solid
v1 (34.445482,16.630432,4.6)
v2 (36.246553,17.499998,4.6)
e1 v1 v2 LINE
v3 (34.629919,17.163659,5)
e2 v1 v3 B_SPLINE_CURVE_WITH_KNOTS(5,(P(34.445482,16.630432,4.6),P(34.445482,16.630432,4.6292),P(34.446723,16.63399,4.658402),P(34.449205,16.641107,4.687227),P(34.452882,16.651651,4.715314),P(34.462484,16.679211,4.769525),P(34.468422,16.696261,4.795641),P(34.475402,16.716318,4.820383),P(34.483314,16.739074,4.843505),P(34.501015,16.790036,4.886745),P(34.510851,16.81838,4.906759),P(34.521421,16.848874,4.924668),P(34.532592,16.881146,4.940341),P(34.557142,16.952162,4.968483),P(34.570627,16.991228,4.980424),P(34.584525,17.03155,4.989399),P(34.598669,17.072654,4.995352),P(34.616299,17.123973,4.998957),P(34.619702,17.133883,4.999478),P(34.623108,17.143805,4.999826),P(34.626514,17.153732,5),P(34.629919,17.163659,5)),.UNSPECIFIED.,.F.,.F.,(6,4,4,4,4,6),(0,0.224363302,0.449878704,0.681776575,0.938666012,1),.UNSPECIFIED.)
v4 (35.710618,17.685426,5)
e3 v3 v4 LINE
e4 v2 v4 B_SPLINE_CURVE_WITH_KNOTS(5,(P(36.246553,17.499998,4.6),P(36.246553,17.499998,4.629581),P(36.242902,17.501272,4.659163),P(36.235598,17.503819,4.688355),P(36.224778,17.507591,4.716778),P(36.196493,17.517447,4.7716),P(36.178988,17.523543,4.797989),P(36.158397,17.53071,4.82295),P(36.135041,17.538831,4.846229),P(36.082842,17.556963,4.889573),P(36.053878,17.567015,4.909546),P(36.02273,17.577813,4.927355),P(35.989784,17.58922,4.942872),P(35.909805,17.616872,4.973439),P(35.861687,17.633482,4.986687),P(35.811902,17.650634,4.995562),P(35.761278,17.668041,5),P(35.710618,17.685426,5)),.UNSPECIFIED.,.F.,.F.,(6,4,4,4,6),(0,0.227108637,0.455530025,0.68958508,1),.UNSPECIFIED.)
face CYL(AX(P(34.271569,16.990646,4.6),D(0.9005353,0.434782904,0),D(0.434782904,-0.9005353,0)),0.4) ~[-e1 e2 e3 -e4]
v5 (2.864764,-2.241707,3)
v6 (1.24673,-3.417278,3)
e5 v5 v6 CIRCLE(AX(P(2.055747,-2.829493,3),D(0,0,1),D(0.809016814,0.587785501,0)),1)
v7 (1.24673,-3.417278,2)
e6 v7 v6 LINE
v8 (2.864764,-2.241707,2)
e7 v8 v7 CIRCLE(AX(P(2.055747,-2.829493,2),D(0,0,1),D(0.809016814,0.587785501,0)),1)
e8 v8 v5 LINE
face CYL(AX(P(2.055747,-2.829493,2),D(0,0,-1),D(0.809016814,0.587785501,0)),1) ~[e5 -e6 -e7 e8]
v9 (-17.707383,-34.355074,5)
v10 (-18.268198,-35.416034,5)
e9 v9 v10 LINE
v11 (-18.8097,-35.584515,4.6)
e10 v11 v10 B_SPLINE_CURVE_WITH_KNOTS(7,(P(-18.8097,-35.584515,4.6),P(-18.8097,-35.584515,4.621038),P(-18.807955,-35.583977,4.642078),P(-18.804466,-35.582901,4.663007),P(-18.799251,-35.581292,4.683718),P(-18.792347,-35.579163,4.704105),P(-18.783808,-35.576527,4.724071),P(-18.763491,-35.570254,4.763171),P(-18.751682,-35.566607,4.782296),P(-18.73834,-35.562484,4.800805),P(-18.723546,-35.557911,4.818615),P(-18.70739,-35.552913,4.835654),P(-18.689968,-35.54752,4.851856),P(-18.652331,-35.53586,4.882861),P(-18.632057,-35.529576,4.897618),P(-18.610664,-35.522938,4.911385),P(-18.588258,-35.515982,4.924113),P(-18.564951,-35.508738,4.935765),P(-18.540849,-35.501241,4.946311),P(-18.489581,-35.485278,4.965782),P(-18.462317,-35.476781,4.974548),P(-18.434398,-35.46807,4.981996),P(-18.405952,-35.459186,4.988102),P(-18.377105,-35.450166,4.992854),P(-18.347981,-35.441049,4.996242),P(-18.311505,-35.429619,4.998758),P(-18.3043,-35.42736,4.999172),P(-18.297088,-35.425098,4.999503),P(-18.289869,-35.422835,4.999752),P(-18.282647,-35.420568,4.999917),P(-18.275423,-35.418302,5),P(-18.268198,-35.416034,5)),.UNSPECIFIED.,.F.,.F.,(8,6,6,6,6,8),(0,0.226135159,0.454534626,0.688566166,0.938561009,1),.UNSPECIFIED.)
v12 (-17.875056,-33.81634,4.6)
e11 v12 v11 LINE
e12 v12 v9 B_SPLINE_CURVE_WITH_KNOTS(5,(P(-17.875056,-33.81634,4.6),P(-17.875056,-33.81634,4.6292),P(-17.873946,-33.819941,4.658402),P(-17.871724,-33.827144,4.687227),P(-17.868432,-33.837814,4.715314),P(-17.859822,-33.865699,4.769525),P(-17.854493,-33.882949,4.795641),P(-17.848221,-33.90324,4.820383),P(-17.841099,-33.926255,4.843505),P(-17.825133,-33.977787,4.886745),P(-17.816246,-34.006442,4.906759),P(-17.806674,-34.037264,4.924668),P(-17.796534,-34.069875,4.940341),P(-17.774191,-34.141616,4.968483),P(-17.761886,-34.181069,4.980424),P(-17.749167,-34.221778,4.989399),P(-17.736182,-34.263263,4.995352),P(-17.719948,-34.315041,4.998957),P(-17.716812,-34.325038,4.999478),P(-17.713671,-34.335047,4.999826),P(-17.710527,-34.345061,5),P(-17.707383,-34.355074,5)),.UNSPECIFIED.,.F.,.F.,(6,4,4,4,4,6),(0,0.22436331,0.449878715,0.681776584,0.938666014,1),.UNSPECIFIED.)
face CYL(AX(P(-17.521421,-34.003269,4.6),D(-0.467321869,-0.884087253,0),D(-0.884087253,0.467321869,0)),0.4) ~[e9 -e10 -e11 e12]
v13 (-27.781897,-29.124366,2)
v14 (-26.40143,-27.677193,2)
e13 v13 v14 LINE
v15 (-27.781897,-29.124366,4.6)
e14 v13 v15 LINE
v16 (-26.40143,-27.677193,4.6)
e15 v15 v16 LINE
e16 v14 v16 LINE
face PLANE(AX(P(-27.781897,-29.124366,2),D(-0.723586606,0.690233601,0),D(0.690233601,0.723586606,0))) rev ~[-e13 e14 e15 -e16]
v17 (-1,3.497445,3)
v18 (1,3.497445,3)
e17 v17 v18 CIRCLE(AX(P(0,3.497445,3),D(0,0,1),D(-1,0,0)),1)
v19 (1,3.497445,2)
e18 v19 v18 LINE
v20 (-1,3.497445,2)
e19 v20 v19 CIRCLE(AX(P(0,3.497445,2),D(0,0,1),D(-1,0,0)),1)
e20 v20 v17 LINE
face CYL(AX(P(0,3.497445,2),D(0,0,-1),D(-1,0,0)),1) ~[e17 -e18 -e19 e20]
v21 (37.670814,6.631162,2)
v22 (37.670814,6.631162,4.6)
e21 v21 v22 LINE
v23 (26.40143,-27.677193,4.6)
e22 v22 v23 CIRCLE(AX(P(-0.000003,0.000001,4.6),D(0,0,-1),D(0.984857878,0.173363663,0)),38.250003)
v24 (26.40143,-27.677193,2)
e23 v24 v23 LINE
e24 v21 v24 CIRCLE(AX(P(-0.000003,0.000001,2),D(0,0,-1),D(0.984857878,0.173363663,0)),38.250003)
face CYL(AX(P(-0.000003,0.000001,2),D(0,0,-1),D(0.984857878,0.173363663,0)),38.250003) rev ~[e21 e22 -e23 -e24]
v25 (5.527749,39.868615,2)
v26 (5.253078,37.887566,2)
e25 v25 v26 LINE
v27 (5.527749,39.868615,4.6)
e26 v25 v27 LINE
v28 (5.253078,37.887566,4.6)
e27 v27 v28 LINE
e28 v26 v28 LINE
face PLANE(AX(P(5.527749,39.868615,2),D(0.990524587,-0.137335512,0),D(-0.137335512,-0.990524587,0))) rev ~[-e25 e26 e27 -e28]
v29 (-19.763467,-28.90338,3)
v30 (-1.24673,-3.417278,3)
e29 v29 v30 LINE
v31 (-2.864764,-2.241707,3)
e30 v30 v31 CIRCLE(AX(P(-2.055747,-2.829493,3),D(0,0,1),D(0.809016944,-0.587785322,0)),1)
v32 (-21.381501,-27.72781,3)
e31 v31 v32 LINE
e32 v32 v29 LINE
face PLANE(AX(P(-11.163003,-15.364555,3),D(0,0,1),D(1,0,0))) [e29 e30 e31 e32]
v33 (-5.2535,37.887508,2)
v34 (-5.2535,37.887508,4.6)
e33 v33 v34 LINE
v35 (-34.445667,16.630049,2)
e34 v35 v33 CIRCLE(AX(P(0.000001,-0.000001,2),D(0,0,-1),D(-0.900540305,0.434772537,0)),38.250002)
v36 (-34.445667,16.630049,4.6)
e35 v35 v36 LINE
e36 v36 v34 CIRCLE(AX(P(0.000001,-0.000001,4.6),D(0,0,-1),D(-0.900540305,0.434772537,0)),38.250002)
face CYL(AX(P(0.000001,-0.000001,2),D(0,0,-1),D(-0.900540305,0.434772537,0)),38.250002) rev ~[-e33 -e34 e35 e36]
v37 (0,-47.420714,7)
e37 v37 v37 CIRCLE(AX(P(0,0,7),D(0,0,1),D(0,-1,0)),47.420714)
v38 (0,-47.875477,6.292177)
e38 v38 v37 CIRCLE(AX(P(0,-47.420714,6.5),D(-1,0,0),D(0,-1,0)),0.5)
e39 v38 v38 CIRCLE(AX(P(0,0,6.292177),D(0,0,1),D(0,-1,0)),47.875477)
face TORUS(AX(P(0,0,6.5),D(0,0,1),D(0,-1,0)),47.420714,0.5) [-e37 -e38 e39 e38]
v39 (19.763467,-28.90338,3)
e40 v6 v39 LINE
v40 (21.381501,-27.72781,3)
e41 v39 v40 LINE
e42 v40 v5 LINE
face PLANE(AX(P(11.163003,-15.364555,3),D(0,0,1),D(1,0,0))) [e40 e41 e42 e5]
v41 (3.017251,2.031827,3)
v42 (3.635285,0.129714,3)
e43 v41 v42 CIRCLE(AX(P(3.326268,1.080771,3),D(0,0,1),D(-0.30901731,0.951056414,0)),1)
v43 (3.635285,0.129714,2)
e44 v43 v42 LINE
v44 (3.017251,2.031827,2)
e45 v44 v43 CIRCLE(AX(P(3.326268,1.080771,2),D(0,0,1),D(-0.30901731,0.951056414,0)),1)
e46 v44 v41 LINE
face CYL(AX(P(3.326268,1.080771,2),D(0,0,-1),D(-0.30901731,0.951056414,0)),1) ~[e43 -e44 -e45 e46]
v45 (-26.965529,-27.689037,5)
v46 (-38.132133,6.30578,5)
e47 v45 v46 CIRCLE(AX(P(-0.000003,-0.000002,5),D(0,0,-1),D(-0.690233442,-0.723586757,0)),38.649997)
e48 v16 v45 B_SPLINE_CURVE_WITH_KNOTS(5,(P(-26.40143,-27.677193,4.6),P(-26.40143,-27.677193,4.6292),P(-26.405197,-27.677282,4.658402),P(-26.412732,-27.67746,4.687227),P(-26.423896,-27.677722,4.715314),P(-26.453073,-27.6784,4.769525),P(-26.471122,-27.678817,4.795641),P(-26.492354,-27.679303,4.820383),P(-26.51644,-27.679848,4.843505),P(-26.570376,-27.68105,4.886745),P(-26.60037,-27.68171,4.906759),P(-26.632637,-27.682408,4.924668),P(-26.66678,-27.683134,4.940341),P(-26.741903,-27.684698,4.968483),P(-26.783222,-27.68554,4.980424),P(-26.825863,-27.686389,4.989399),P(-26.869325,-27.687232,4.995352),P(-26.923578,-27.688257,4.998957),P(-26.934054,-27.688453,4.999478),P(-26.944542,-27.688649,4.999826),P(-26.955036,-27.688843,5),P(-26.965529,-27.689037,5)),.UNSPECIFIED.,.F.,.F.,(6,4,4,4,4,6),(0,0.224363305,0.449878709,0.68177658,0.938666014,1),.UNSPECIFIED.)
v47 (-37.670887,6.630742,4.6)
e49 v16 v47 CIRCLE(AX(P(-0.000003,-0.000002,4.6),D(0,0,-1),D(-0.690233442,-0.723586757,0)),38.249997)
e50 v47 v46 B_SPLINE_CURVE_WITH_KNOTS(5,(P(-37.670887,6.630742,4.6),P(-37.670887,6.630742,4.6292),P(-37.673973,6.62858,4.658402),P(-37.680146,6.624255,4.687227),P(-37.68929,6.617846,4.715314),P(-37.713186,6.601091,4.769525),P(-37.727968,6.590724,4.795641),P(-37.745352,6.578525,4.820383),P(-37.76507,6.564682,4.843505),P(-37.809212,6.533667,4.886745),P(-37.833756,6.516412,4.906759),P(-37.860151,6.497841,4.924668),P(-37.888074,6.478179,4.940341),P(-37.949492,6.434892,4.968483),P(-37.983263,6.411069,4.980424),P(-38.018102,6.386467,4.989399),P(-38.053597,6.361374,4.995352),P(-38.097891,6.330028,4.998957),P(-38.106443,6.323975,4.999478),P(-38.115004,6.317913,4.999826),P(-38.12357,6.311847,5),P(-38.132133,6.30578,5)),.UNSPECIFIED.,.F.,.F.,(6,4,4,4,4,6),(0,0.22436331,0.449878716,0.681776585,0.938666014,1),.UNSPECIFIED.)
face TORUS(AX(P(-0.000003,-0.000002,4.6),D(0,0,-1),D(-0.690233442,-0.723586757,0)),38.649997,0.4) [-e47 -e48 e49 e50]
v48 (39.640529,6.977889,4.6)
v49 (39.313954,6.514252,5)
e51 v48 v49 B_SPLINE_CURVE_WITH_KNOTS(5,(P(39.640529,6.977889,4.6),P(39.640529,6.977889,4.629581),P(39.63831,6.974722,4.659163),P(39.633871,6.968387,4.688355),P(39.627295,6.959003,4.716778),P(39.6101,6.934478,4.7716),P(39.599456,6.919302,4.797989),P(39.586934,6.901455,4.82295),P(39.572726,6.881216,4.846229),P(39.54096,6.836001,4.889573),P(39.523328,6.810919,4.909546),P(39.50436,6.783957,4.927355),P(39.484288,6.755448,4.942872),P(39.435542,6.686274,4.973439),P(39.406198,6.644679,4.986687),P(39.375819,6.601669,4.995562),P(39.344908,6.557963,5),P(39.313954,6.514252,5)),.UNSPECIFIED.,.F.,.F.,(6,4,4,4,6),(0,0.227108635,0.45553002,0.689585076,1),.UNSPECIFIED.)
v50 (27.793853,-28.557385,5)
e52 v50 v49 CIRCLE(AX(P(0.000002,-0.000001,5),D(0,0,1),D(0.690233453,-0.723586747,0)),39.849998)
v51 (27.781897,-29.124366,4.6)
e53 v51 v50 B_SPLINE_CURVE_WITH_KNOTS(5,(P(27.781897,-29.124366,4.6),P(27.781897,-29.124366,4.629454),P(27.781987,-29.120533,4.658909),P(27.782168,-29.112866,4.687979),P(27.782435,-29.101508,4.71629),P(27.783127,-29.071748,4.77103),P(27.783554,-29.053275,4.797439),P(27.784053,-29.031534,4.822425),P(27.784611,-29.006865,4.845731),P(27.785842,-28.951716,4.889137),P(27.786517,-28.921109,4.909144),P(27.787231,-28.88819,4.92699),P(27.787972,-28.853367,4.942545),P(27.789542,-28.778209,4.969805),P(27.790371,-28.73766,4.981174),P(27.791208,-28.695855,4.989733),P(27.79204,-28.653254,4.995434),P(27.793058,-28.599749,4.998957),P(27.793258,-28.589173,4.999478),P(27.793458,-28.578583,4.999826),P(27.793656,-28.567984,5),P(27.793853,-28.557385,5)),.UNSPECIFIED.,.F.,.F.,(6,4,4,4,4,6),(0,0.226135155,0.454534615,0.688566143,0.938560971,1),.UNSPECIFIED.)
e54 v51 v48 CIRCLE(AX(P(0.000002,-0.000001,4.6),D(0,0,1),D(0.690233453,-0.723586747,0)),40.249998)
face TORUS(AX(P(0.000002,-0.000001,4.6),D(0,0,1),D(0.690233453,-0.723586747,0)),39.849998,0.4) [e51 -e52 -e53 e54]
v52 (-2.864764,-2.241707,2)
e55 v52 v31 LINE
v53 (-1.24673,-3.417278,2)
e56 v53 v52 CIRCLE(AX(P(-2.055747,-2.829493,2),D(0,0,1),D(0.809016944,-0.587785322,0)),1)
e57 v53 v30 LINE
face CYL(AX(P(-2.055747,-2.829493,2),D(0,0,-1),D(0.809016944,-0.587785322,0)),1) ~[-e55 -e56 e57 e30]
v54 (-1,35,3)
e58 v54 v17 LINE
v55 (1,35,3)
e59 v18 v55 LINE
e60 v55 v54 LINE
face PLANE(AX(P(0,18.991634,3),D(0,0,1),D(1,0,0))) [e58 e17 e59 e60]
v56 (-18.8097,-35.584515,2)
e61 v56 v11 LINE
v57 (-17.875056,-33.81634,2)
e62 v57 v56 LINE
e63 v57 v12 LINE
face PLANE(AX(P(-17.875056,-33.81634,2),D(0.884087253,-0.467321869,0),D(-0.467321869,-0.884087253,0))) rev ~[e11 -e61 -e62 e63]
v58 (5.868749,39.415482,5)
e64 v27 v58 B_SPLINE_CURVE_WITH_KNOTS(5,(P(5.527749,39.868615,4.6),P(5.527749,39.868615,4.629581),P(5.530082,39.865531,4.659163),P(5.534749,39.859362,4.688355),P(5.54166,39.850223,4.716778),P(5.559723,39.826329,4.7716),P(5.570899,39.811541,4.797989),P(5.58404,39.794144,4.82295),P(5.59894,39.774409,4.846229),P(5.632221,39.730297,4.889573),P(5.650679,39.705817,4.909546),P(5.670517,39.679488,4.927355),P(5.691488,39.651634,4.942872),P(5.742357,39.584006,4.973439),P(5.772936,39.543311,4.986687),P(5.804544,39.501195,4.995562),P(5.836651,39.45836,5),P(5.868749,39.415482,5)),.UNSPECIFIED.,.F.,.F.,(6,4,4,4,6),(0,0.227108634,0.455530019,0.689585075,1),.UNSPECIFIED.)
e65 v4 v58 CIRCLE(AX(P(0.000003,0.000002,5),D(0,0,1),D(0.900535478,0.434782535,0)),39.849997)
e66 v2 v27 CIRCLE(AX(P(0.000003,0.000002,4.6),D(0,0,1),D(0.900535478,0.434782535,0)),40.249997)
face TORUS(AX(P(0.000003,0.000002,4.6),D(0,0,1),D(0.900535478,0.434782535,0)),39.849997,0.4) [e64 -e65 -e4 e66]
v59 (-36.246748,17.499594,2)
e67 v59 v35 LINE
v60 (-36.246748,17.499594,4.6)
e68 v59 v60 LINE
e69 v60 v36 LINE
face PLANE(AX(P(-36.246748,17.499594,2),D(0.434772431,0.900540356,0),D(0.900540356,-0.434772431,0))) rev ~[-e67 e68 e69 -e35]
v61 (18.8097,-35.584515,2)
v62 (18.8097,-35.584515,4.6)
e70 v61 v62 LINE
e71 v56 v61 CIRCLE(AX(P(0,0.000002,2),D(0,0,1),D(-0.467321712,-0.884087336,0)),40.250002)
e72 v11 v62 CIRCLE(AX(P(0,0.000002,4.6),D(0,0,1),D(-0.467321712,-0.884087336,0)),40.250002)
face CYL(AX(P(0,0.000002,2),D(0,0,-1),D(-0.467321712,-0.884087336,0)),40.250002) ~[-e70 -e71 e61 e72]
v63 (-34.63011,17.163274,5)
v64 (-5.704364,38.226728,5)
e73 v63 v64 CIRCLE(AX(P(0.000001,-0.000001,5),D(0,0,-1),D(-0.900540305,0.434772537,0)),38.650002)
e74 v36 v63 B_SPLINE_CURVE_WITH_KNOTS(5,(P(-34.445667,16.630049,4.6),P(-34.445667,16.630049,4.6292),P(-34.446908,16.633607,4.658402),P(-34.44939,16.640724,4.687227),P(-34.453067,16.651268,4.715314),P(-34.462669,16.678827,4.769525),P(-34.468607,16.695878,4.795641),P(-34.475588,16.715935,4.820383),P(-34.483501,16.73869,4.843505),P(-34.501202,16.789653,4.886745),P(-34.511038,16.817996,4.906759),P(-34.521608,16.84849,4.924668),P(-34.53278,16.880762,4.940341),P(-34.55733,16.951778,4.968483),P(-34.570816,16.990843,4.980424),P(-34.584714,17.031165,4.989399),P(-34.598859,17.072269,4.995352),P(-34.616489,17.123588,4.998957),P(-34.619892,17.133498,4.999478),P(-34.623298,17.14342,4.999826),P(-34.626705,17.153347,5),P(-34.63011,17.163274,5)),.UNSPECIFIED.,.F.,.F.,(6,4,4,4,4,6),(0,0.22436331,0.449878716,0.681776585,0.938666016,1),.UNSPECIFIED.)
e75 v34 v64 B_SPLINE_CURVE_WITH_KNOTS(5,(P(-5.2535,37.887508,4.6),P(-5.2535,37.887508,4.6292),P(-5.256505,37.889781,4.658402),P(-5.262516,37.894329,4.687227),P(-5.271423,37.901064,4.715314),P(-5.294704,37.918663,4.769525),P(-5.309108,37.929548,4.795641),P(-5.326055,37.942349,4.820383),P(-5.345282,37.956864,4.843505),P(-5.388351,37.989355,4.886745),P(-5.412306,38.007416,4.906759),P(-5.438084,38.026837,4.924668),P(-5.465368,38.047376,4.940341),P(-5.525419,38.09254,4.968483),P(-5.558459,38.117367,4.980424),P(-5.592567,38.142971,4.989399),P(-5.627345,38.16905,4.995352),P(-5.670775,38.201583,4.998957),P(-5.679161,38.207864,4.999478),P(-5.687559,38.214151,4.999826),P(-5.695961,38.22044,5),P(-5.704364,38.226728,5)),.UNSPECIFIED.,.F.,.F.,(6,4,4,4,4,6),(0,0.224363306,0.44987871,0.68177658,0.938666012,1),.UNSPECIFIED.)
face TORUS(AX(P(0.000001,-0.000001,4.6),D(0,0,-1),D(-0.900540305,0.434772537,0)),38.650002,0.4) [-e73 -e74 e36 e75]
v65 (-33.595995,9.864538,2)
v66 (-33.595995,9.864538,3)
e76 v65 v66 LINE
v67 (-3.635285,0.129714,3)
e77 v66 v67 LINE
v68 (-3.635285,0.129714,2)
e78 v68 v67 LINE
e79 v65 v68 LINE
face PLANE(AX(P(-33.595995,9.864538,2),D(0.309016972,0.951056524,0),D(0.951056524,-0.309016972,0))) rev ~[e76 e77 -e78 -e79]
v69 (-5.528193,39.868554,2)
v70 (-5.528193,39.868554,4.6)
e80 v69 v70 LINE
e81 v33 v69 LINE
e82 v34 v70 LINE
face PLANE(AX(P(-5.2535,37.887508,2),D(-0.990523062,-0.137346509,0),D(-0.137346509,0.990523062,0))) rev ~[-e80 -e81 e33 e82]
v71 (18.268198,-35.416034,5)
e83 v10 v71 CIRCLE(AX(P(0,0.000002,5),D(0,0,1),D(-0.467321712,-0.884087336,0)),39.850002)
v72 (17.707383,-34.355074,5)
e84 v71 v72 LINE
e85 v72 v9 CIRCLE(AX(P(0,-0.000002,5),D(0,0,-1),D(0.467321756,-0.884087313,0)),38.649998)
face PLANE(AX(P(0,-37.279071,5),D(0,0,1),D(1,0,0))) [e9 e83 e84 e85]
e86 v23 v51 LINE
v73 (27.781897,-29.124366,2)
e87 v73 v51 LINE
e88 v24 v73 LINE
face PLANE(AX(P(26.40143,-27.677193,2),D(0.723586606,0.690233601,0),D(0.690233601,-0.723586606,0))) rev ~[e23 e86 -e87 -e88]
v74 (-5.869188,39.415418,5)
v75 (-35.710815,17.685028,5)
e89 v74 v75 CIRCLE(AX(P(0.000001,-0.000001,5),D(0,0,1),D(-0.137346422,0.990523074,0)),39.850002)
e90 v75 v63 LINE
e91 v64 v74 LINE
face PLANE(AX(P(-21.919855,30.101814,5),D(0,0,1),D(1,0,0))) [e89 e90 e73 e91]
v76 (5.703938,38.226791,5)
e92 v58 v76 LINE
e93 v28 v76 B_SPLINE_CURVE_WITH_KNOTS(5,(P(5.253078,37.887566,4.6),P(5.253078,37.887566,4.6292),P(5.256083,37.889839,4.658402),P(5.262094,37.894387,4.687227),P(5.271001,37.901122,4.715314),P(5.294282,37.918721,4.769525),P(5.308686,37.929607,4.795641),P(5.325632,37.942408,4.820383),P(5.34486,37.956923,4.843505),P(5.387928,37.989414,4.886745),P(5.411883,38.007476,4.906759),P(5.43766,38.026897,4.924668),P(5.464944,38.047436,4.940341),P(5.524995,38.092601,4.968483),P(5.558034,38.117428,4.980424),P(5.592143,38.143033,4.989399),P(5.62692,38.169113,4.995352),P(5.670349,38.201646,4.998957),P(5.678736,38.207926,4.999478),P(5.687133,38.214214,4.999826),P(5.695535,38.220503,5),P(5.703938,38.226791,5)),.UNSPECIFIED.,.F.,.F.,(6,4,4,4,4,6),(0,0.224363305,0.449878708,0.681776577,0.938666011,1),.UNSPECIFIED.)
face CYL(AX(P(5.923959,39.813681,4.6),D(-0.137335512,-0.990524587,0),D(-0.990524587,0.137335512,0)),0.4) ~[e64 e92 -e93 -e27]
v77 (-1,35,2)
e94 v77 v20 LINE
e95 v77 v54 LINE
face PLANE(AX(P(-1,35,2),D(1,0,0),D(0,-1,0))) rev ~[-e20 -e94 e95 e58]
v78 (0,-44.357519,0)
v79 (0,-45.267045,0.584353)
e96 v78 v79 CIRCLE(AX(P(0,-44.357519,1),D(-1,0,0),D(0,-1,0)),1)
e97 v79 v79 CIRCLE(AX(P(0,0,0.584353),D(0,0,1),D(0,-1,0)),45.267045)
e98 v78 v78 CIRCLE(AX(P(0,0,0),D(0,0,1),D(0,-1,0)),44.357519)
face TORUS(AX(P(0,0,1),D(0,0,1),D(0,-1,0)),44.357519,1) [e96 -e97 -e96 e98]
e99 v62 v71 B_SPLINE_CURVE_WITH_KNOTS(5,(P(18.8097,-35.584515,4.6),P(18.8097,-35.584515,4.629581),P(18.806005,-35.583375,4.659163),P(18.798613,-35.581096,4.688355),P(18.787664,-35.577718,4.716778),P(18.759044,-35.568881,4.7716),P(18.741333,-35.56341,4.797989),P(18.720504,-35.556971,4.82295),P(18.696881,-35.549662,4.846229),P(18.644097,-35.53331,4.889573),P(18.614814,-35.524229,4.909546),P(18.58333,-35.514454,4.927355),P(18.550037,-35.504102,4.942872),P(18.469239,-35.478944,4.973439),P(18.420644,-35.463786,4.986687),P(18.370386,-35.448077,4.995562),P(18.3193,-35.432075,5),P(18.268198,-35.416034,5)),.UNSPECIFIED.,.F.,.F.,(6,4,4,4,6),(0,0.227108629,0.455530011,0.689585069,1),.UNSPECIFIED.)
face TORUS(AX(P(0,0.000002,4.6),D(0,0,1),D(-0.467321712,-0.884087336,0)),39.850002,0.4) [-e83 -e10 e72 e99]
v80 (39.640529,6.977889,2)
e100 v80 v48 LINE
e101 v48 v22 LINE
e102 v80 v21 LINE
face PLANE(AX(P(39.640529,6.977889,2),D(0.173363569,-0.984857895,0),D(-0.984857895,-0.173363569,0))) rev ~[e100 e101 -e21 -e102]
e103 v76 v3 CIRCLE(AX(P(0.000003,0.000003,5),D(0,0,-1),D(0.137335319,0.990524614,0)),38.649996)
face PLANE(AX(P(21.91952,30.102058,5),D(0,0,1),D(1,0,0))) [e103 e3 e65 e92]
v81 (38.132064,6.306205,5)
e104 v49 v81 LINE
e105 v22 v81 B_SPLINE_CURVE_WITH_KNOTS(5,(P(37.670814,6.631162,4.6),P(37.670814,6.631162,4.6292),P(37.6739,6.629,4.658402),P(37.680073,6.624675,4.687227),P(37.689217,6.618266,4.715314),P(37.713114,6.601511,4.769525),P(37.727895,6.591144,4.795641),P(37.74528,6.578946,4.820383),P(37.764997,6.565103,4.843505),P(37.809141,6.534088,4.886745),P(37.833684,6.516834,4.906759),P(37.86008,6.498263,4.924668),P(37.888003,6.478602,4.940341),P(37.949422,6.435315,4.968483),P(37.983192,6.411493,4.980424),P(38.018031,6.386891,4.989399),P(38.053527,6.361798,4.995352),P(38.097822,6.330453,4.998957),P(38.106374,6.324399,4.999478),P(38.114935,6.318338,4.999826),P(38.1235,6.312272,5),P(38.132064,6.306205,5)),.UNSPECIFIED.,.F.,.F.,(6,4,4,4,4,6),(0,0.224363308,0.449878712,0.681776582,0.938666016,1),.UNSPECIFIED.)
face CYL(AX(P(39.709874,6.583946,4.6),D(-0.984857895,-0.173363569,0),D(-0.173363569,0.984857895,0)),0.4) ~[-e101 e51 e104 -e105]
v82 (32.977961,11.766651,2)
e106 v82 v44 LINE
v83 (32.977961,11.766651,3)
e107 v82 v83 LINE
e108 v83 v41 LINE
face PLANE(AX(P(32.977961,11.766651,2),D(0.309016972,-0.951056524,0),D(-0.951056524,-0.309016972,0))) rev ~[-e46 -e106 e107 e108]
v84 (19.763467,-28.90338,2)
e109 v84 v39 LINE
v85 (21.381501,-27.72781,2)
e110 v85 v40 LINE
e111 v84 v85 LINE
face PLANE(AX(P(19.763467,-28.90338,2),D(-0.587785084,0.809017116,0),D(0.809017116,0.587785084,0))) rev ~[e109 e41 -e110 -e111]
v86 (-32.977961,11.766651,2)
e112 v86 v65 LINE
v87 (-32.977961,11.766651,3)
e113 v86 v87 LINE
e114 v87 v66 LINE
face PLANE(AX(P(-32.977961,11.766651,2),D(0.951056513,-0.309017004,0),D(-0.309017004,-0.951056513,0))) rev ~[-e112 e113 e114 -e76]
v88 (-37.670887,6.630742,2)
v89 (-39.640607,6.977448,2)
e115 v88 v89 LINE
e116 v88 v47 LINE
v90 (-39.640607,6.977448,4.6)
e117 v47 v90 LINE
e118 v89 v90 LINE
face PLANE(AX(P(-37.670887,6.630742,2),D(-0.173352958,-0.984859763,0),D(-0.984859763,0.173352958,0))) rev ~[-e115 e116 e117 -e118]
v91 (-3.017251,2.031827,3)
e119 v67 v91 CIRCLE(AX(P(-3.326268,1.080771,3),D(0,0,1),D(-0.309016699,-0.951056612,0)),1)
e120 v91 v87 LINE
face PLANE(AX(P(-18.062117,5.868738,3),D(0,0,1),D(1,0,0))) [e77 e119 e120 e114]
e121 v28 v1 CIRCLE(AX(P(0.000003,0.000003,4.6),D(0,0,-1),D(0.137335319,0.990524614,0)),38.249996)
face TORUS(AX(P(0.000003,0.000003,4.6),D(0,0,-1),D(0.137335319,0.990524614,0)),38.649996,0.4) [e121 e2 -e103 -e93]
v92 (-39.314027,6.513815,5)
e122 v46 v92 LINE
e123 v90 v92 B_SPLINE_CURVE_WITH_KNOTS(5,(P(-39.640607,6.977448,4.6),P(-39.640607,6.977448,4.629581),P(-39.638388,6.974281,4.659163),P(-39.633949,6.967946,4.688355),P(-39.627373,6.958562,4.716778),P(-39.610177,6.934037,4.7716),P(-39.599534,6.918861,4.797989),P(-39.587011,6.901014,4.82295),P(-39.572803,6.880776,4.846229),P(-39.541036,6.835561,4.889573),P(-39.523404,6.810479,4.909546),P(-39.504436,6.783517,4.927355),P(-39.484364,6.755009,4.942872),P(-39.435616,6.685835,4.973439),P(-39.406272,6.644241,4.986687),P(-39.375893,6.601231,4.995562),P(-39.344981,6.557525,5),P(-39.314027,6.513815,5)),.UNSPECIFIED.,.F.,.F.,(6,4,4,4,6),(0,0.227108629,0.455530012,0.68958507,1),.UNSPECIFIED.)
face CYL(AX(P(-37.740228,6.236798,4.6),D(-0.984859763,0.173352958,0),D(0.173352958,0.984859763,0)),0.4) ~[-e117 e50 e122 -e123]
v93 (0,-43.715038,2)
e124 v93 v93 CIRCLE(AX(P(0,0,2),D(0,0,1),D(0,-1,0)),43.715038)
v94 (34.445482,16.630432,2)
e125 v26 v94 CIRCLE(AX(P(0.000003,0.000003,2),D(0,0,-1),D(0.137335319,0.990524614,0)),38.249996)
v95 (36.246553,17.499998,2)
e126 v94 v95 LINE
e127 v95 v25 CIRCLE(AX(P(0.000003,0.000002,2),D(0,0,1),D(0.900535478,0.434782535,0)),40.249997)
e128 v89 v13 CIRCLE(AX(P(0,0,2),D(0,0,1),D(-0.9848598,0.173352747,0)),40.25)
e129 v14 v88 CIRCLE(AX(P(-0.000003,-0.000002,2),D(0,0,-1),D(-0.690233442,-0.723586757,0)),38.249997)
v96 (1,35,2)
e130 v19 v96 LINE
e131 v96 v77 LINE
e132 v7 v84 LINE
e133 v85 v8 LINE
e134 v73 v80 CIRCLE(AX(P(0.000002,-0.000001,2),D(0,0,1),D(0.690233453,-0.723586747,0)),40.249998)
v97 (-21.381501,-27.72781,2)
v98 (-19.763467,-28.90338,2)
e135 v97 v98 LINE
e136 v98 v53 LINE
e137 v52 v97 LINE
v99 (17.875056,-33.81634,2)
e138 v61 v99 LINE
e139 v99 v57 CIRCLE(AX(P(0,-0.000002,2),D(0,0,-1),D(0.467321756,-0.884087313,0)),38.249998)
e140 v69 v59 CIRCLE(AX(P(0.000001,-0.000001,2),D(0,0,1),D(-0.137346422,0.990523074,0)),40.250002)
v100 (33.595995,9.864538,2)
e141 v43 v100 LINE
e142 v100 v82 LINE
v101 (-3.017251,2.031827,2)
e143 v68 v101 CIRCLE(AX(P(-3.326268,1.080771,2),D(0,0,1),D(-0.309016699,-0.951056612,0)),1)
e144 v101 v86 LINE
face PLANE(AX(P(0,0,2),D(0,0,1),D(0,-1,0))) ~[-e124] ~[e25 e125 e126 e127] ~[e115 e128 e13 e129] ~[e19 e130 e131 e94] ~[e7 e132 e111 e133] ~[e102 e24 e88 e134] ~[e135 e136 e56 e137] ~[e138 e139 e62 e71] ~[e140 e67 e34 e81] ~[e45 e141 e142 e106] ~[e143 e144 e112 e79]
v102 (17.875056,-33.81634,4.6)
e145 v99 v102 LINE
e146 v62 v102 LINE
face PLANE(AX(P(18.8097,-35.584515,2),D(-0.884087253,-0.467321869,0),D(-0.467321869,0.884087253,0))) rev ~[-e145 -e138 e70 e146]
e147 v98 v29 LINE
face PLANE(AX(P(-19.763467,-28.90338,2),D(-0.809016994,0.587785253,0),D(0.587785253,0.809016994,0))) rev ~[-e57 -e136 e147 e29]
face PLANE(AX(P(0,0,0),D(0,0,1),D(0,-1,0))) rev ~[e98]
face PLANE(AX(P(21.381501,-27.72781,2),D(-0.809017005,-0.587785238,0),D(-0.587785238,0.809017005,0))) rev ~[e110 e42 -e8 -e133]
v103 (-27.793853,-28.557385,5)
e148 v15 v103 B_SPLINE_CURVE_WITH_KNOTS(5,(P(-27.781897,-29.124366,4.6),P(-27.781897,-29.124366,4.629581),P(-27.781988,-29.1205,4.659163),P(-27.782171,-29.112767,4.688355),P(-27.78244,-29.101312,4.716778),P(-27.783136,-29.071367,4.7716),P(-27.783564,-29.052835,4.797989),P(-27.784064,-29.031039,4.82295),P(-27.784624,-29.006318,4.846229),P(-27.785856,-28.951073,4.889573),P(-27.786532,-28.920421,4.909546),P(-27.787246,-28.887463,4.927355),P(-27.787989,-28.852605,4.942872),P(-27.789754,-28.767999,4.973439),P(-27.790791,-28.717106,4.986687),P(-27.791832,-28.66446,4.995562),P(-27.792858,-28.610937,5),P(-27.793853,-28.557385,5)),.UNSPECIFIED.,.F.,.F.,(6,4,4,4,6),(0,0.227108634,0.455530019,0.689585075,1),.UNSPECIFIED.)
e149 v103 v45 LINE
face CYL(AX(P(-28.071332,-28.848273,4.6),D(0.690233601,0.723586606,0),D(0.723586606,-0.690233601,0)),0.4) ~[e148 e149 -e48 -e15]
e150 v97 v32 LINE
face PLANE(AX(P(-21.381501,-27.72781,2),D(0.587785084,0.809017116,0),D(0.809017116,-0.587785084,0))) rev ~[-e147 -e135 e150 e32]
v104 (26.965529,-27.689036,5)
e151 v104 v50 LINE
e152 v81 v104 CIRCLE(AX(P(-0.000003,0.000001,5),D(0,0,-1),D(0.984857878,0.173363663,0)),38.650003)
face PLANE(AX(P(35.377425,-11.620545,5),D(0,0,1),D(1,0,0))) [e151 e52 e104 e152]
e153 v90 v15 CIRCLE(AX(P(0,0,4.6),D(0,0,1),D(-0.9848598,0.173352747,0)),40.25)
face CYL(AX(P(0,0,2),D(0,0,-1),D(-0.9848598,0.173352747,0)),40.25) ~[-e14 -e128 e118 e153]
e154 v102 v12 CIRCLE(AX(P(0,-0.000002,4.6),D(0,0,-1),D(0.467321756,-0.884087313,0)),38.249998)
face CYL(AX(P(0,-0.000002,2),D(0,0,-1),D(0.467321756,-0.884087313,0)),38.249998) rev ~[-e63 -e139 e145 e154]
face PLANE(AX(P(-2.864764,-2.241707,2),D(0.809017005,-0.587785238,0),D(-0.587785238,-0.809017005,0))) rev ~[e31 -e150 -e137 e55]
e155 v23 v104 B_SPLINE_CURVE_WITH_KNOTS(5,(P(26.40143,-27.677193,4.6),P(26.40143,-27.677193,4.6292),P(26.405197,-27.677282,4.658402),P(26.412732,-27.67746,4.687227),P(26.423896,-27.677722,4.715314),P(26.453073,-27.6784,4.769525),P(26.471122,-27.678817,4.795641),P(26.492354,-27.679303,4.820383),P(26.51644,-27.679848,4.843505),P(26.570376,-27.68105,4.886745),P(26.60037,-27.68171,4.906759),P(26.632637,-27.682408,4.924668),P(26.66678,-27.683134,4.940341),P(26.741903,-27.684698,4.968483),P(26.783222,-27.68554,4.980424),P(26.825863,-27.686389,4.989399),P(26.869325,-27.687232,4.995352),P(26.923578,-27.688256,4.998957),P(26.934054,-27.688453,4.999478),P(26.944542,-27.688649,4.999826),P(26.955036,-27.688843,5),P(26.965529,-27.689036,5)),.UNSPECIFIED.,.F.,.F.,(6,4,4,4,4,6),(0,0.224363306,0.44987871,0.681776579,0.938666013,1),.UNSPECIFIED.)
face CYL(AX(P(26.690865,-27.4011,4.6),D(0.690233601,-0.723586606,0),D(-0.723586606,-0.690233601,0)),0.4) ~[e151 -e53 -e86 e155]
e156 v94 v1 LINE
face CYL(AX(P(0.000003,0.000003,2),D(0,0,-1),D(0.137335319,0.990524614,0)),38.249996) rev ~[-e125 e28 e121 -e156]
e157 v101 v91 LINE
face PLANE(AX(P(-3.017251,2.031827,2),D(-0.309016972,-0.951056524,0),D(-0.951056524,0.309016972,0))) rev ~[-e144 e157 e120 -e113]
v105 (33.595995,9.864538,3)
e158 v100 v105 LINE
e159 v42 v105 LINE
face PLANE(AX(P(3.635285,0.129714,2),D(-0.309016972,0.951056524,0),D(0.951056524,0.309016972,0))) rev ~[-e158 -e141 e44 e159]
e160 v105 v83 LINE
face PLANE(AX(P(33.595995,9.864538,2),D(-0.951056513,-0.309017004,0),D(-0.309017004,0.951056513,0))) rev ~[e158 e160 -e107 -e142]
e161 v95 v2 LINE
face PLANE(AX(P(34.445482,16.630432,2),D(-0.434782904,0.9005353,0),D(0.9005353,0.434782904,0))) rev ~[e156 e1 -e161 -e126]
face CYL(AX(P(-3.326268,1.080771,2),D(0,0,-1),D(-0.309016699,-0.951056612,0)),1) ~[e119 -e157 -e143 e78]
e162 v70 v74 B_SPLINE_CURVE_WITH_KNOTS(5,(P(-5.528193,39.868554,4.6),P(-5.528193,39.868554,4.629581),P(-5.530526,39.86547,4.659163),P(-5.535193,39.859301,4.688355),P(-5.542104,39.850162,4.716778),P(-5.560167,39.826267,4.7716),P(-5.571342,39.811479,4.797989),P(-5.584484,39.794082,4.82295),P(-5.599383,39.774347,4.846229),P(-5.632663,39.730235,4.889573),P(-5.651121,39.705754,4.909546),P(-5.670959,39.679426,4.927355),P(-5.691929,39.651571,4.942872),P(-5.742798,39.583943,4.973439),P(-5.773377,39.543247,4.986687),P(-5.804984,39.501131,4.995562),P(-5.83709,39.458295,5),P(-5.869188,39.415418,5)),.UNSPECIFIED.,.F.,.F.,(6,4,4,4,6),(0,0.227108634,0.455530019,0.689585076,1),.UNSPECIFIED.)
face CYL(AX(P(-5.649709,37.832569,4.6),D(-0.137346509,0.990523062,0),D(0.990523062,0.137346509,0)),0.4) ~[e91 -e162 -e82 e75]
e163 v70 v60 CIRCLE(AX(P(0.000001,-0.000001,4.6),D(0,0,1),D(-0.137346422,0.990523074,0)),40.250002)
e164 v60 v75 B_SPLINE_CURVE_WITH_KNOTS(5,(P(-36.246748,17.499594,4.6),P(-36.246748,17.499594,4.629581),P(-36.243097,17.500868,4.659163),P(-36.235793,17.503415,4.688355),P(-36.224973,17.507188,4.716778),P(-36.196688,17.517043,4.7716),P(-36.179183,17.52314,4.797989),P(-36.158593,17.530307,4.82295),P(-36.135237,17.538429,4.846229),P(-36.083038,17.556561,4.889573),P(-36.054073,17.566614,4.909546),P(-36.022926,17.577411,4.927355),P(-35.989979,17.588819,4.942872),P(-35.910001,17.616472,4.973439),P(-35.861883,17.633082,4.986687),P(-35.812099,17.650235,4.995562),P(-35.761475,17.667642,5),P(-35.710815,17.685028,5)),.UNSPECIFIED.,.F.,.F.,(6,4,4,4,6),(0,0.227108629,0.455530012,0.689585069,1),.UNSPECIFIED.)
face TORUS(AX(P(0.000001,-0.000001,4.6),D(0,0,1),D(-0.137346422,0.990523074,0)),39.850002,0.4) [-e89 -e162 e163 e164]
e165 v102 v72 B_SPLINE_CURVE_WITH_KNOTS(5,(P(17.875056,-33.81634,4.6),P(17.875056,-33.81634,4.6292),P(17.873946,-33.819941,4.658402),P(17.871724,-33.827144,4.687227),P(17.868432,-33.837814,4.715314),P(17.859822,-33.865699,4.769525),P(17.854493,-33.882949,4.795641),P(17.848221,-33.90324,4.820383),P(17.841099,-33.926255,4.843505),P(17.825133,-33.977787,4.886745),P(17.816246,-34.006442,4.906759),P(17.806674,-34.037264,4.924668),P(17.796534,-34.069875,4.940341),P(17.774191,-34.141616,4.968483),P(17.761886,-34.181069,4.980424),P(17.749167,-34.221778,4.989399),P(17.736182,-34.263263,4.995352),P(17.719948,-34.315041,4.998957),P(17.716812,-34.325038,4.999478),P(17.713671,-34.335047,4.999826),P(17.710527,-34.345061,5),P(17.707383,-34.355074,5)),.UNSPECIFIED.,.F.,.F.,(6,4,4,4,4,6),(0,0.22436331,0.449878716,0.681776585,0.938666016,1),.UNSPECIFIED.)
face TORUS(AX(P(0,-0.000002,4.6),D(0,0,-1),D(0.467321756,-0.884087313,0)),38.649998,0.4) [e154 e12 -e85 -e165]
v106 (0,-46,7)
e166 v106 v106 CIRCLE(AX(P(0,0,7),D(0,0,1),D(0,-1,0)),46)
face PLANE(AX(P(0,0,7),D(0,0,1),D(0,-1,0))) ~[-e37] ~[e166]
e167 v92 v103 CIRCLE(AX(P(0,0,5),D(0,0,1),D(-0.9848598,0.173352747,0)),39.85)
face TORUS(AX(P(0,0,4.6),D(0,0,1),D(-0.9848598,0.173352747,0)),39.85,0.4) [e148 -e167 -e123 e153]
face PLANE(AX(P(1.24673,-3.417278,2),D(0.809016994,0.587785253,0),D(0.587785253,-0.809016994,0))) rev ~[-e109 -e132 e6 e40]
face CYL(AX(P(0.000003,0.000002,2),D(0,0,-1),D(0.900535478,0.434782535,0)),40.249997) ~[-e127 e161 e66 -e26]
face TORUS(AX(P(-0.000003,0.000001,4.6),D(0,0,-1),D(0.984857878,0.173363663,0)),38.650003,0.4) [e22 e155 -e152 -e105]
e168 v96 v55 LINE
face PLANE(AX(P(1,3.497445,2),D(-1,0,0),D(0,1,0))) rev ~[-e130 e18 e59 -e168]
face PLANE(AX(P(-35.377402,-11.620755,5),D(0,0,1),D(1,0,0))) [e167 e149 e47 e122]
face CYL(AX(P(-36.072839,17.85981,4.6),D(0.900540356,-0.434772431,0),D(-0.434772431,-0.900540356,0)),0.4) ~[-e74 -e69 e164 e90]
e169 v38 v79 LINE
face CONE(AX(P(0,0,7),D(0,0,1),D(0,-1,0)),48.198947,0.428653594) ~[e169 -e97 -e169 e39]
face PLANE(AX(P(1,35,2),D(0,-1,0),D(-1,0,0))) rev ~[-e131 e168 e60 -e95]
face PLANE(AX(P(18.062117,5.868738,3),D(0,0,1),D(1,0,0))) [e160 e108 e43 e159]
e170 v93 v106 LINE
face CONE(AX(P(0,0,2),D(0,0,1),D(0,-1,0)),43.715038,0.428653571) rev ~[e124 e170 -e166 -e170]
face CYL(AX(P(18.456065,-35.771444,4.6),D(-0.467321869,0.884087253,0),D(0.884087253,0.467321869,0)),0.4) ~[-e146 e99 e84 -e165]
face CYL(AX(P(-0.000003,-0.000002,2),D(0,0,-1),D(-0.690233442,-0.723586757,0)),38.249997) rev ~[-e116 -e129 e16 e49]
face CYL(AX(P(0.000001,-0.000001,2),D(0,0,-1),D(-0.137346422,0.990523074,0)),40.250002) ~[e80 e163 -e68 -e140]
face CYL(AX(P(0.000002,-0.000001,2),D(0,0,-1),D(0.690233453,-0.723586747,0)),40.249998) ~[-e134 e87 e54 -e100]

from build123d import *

# Parameters (mm, degrees)
F2_R     = 1
F3_R     = 0.5
F5_DEPTH = 1
F7_DEPTH = 3
F8_R     = 0.4


with BuildPart() as f1:
    # F0 (on Right) → F1 (revolve)
    with BuildSketch(Plane.YZ):
        Polygon((-45, 0), (0, 0), (0, 2), (-43.715038, 2), (-46, 7), (-48.198947, 7), align=None)
    revolve(axis=Axis((0, 0, 1), (0, 0, 1)))

    # F2
    f2_edges = [f1.edges().sort_by_distance(p)[0] for p in [
        (0, 45, 0),
    ]]
    fillet(f2_edges, radius=F2_R)

    # F3
    f3_edges = [f1.edges().sort_by_distance(p)[0] for p in [
        (0, 48.198947, 7),
    ]]
    fillet(f3_edges, radius=F3_R)

    # F4 (on face) → F5 (join)
    with BuildSketch(Plane.XY.offset(2)):
        with BuildLine():
            Line((1, 35), (-1, 35))
            Line((-1, 35), (-1, 3.497445))
            ThreePointArc((-1, 3.497445), (0, 2.497445), (1, 3.497445))
            Line((1, 3.497445), (1, 35))
        make_face()
        with BuildLine():
            Line((-33.595995, 9.864538), (-3.635285, 0.129714))
            ThreePointArc((-3.635285, 0.129714), (-2.375212, 0.771753), (-3.017251, 2.031827))
            Line((-3.017251, 2.031827), (-32.977961, 11.766651))
            Line((-32.977961, 11.766651), (-33.595995, 9.864538))
        make_face()
        with BuildLine():
            Line((-19.763467, -28.90338), (-1.24673, -3.417278))
            ThreePointArc((-1.24673, -3.417278), (-1.467961, -2.020476), (-2.864764, -2.241707))
            Line((-2.864764, -2.241707), (-21.381501, -27.72781))
            Line((-21.381501, -27.72781), (-19.763467, -28.90338))
        make_face()
        with BuildLine():
            Line((21.381501, -27.72781), (2.864764, -2.241707))
            ThreePointArc((2.864764, -2.241707), (1.467961, -2.020476), (1.24673, -3.417278))
            Line((1.24673, -3.417278), (19.763467, -28.90338))
            Line((19.763467, -28.90338), (21.381501, -27.72781))
        make_face()
        with BuildLine():
            Line((32.977961, 11.766651), (3.017251, 2.031827))
            ThreePointArc((3.017251, 2.031827), (2.375212, 0.771753), (3.635285, 0.129714))
            Line((3.635285, 0.129714), (33.595995, 9.864538))
            Line((33.595995, 9.864538), (32.977961, 11.766651))
        make_face()
    extrude(amount=F5_DEPTH)

    # F6 (on face) → F7 (join)
    with BuildSketch(Plane.XY.offset(2)):
        with BuildLine():
            ThreePointArc((-34.445667, 16.630049), (-22.516124, 30.920651), (-5.2535, 37.887508))
            Line((-5.2535, 37.887508), (-5.528193, 39.868554))
            ThreePointArc((-5.528193, 39.868554), (-23.693438, 32.537417), (-36.246748, 17.499594))
            Line((-36.246748, 17.499594), (-34.445667, 16.630049))
        make_face()
        with BuildLine():
            ThreePointArc((36.246553, 17.499998), (23.693076, 32.537681), (5.527749, 39.868615))
            Line((5.527749, 39.868615), (5.253078, 37.887566))
            ThreePointArc((5.253078, 37.887566), (22.51578, 30.920902), (34.445482, 16.630432))
            Line((34.445482, 16.630432), (36.246553, 17.499998))
        make_face()
        with BuildLine():
            ThreePointArc((27.781897, -29.124366), (38.239889, -12.560788), (39.640529, 6.977889))
            Line((39.640529, 6.977889), (37.670814, 6.631162))
            ThreePointArc((37.670814, 6.631162), (36.33977, -11.93665), (26.40143, -27.677193))
            Line((26.40143, -27.677193), (27.781897, -29.124366))
        make_face()
        with BuildLine():
            Line((18.8097, -35.584515), (17.875056, -33.81634))
            ThreePointArc((17.875056, -33.81634), (0, -38.25), (-17.875056, -33.81634))
            Line((-17.875056, -33.81634), (-18.8097, -35.584515))
            ThreePointArc((-18.8097, -35.584515), (0, -40.25), (18.8097, -35.584515))
        make_face()
        with BuildLine():
            ThreePointArc((-39.640607, 6.977448), (-38.239819, -12.561001), (-27.781897, -29.124366))
            Line((-27.781897, -29.124366), (-26.40143, -27.677193))
            ThreePointArc((-26.40143, -27.677193), (-36.339704, -11.936852), (-37.670887, 6.630742))
            Line((-37.670887, 6.630742), (-39.640607, 6.977448))
        make_face()
    extrude(amount=F7_DEPTH)

    # F8
    f8_edges = [f1.edges().sort_by_distance(p)[0] for p in [
        (-22.516124, 30.920651, 5),
        (-23.693438, 32.537417, 5),
        (-35.346207, 17.064821, 5),
        (-5.390846, 38.878031, 5),
        (-38.655747, 6.804095, 5),
        (-38.239819, -12.561001, 5),
        (-36.339704, -11.936852, 5),
        (-27.091664, -28.400779, 5),
        (-18.342378, -34.700427, 5),
        (0, -40.25, 5),
        (18.342378, -34.700427, 5),
        (0, -38.25, 5),
        (38.239889, -12.560788, 5),
        (36.33977, -11.93665, 5),
        (27.091664, -28.400779, 5),
        (38.655671, 6.804526, 5),
        (23.693076, 32.537681, 5),
        (35.346017, 17.065215, 5),
        (5.390413, 38.878091, 5),
        (22.51578, 30.920902, 5),
    ]]
    fillet(f8_edges, radius=F8_R)


solid = f1.part
